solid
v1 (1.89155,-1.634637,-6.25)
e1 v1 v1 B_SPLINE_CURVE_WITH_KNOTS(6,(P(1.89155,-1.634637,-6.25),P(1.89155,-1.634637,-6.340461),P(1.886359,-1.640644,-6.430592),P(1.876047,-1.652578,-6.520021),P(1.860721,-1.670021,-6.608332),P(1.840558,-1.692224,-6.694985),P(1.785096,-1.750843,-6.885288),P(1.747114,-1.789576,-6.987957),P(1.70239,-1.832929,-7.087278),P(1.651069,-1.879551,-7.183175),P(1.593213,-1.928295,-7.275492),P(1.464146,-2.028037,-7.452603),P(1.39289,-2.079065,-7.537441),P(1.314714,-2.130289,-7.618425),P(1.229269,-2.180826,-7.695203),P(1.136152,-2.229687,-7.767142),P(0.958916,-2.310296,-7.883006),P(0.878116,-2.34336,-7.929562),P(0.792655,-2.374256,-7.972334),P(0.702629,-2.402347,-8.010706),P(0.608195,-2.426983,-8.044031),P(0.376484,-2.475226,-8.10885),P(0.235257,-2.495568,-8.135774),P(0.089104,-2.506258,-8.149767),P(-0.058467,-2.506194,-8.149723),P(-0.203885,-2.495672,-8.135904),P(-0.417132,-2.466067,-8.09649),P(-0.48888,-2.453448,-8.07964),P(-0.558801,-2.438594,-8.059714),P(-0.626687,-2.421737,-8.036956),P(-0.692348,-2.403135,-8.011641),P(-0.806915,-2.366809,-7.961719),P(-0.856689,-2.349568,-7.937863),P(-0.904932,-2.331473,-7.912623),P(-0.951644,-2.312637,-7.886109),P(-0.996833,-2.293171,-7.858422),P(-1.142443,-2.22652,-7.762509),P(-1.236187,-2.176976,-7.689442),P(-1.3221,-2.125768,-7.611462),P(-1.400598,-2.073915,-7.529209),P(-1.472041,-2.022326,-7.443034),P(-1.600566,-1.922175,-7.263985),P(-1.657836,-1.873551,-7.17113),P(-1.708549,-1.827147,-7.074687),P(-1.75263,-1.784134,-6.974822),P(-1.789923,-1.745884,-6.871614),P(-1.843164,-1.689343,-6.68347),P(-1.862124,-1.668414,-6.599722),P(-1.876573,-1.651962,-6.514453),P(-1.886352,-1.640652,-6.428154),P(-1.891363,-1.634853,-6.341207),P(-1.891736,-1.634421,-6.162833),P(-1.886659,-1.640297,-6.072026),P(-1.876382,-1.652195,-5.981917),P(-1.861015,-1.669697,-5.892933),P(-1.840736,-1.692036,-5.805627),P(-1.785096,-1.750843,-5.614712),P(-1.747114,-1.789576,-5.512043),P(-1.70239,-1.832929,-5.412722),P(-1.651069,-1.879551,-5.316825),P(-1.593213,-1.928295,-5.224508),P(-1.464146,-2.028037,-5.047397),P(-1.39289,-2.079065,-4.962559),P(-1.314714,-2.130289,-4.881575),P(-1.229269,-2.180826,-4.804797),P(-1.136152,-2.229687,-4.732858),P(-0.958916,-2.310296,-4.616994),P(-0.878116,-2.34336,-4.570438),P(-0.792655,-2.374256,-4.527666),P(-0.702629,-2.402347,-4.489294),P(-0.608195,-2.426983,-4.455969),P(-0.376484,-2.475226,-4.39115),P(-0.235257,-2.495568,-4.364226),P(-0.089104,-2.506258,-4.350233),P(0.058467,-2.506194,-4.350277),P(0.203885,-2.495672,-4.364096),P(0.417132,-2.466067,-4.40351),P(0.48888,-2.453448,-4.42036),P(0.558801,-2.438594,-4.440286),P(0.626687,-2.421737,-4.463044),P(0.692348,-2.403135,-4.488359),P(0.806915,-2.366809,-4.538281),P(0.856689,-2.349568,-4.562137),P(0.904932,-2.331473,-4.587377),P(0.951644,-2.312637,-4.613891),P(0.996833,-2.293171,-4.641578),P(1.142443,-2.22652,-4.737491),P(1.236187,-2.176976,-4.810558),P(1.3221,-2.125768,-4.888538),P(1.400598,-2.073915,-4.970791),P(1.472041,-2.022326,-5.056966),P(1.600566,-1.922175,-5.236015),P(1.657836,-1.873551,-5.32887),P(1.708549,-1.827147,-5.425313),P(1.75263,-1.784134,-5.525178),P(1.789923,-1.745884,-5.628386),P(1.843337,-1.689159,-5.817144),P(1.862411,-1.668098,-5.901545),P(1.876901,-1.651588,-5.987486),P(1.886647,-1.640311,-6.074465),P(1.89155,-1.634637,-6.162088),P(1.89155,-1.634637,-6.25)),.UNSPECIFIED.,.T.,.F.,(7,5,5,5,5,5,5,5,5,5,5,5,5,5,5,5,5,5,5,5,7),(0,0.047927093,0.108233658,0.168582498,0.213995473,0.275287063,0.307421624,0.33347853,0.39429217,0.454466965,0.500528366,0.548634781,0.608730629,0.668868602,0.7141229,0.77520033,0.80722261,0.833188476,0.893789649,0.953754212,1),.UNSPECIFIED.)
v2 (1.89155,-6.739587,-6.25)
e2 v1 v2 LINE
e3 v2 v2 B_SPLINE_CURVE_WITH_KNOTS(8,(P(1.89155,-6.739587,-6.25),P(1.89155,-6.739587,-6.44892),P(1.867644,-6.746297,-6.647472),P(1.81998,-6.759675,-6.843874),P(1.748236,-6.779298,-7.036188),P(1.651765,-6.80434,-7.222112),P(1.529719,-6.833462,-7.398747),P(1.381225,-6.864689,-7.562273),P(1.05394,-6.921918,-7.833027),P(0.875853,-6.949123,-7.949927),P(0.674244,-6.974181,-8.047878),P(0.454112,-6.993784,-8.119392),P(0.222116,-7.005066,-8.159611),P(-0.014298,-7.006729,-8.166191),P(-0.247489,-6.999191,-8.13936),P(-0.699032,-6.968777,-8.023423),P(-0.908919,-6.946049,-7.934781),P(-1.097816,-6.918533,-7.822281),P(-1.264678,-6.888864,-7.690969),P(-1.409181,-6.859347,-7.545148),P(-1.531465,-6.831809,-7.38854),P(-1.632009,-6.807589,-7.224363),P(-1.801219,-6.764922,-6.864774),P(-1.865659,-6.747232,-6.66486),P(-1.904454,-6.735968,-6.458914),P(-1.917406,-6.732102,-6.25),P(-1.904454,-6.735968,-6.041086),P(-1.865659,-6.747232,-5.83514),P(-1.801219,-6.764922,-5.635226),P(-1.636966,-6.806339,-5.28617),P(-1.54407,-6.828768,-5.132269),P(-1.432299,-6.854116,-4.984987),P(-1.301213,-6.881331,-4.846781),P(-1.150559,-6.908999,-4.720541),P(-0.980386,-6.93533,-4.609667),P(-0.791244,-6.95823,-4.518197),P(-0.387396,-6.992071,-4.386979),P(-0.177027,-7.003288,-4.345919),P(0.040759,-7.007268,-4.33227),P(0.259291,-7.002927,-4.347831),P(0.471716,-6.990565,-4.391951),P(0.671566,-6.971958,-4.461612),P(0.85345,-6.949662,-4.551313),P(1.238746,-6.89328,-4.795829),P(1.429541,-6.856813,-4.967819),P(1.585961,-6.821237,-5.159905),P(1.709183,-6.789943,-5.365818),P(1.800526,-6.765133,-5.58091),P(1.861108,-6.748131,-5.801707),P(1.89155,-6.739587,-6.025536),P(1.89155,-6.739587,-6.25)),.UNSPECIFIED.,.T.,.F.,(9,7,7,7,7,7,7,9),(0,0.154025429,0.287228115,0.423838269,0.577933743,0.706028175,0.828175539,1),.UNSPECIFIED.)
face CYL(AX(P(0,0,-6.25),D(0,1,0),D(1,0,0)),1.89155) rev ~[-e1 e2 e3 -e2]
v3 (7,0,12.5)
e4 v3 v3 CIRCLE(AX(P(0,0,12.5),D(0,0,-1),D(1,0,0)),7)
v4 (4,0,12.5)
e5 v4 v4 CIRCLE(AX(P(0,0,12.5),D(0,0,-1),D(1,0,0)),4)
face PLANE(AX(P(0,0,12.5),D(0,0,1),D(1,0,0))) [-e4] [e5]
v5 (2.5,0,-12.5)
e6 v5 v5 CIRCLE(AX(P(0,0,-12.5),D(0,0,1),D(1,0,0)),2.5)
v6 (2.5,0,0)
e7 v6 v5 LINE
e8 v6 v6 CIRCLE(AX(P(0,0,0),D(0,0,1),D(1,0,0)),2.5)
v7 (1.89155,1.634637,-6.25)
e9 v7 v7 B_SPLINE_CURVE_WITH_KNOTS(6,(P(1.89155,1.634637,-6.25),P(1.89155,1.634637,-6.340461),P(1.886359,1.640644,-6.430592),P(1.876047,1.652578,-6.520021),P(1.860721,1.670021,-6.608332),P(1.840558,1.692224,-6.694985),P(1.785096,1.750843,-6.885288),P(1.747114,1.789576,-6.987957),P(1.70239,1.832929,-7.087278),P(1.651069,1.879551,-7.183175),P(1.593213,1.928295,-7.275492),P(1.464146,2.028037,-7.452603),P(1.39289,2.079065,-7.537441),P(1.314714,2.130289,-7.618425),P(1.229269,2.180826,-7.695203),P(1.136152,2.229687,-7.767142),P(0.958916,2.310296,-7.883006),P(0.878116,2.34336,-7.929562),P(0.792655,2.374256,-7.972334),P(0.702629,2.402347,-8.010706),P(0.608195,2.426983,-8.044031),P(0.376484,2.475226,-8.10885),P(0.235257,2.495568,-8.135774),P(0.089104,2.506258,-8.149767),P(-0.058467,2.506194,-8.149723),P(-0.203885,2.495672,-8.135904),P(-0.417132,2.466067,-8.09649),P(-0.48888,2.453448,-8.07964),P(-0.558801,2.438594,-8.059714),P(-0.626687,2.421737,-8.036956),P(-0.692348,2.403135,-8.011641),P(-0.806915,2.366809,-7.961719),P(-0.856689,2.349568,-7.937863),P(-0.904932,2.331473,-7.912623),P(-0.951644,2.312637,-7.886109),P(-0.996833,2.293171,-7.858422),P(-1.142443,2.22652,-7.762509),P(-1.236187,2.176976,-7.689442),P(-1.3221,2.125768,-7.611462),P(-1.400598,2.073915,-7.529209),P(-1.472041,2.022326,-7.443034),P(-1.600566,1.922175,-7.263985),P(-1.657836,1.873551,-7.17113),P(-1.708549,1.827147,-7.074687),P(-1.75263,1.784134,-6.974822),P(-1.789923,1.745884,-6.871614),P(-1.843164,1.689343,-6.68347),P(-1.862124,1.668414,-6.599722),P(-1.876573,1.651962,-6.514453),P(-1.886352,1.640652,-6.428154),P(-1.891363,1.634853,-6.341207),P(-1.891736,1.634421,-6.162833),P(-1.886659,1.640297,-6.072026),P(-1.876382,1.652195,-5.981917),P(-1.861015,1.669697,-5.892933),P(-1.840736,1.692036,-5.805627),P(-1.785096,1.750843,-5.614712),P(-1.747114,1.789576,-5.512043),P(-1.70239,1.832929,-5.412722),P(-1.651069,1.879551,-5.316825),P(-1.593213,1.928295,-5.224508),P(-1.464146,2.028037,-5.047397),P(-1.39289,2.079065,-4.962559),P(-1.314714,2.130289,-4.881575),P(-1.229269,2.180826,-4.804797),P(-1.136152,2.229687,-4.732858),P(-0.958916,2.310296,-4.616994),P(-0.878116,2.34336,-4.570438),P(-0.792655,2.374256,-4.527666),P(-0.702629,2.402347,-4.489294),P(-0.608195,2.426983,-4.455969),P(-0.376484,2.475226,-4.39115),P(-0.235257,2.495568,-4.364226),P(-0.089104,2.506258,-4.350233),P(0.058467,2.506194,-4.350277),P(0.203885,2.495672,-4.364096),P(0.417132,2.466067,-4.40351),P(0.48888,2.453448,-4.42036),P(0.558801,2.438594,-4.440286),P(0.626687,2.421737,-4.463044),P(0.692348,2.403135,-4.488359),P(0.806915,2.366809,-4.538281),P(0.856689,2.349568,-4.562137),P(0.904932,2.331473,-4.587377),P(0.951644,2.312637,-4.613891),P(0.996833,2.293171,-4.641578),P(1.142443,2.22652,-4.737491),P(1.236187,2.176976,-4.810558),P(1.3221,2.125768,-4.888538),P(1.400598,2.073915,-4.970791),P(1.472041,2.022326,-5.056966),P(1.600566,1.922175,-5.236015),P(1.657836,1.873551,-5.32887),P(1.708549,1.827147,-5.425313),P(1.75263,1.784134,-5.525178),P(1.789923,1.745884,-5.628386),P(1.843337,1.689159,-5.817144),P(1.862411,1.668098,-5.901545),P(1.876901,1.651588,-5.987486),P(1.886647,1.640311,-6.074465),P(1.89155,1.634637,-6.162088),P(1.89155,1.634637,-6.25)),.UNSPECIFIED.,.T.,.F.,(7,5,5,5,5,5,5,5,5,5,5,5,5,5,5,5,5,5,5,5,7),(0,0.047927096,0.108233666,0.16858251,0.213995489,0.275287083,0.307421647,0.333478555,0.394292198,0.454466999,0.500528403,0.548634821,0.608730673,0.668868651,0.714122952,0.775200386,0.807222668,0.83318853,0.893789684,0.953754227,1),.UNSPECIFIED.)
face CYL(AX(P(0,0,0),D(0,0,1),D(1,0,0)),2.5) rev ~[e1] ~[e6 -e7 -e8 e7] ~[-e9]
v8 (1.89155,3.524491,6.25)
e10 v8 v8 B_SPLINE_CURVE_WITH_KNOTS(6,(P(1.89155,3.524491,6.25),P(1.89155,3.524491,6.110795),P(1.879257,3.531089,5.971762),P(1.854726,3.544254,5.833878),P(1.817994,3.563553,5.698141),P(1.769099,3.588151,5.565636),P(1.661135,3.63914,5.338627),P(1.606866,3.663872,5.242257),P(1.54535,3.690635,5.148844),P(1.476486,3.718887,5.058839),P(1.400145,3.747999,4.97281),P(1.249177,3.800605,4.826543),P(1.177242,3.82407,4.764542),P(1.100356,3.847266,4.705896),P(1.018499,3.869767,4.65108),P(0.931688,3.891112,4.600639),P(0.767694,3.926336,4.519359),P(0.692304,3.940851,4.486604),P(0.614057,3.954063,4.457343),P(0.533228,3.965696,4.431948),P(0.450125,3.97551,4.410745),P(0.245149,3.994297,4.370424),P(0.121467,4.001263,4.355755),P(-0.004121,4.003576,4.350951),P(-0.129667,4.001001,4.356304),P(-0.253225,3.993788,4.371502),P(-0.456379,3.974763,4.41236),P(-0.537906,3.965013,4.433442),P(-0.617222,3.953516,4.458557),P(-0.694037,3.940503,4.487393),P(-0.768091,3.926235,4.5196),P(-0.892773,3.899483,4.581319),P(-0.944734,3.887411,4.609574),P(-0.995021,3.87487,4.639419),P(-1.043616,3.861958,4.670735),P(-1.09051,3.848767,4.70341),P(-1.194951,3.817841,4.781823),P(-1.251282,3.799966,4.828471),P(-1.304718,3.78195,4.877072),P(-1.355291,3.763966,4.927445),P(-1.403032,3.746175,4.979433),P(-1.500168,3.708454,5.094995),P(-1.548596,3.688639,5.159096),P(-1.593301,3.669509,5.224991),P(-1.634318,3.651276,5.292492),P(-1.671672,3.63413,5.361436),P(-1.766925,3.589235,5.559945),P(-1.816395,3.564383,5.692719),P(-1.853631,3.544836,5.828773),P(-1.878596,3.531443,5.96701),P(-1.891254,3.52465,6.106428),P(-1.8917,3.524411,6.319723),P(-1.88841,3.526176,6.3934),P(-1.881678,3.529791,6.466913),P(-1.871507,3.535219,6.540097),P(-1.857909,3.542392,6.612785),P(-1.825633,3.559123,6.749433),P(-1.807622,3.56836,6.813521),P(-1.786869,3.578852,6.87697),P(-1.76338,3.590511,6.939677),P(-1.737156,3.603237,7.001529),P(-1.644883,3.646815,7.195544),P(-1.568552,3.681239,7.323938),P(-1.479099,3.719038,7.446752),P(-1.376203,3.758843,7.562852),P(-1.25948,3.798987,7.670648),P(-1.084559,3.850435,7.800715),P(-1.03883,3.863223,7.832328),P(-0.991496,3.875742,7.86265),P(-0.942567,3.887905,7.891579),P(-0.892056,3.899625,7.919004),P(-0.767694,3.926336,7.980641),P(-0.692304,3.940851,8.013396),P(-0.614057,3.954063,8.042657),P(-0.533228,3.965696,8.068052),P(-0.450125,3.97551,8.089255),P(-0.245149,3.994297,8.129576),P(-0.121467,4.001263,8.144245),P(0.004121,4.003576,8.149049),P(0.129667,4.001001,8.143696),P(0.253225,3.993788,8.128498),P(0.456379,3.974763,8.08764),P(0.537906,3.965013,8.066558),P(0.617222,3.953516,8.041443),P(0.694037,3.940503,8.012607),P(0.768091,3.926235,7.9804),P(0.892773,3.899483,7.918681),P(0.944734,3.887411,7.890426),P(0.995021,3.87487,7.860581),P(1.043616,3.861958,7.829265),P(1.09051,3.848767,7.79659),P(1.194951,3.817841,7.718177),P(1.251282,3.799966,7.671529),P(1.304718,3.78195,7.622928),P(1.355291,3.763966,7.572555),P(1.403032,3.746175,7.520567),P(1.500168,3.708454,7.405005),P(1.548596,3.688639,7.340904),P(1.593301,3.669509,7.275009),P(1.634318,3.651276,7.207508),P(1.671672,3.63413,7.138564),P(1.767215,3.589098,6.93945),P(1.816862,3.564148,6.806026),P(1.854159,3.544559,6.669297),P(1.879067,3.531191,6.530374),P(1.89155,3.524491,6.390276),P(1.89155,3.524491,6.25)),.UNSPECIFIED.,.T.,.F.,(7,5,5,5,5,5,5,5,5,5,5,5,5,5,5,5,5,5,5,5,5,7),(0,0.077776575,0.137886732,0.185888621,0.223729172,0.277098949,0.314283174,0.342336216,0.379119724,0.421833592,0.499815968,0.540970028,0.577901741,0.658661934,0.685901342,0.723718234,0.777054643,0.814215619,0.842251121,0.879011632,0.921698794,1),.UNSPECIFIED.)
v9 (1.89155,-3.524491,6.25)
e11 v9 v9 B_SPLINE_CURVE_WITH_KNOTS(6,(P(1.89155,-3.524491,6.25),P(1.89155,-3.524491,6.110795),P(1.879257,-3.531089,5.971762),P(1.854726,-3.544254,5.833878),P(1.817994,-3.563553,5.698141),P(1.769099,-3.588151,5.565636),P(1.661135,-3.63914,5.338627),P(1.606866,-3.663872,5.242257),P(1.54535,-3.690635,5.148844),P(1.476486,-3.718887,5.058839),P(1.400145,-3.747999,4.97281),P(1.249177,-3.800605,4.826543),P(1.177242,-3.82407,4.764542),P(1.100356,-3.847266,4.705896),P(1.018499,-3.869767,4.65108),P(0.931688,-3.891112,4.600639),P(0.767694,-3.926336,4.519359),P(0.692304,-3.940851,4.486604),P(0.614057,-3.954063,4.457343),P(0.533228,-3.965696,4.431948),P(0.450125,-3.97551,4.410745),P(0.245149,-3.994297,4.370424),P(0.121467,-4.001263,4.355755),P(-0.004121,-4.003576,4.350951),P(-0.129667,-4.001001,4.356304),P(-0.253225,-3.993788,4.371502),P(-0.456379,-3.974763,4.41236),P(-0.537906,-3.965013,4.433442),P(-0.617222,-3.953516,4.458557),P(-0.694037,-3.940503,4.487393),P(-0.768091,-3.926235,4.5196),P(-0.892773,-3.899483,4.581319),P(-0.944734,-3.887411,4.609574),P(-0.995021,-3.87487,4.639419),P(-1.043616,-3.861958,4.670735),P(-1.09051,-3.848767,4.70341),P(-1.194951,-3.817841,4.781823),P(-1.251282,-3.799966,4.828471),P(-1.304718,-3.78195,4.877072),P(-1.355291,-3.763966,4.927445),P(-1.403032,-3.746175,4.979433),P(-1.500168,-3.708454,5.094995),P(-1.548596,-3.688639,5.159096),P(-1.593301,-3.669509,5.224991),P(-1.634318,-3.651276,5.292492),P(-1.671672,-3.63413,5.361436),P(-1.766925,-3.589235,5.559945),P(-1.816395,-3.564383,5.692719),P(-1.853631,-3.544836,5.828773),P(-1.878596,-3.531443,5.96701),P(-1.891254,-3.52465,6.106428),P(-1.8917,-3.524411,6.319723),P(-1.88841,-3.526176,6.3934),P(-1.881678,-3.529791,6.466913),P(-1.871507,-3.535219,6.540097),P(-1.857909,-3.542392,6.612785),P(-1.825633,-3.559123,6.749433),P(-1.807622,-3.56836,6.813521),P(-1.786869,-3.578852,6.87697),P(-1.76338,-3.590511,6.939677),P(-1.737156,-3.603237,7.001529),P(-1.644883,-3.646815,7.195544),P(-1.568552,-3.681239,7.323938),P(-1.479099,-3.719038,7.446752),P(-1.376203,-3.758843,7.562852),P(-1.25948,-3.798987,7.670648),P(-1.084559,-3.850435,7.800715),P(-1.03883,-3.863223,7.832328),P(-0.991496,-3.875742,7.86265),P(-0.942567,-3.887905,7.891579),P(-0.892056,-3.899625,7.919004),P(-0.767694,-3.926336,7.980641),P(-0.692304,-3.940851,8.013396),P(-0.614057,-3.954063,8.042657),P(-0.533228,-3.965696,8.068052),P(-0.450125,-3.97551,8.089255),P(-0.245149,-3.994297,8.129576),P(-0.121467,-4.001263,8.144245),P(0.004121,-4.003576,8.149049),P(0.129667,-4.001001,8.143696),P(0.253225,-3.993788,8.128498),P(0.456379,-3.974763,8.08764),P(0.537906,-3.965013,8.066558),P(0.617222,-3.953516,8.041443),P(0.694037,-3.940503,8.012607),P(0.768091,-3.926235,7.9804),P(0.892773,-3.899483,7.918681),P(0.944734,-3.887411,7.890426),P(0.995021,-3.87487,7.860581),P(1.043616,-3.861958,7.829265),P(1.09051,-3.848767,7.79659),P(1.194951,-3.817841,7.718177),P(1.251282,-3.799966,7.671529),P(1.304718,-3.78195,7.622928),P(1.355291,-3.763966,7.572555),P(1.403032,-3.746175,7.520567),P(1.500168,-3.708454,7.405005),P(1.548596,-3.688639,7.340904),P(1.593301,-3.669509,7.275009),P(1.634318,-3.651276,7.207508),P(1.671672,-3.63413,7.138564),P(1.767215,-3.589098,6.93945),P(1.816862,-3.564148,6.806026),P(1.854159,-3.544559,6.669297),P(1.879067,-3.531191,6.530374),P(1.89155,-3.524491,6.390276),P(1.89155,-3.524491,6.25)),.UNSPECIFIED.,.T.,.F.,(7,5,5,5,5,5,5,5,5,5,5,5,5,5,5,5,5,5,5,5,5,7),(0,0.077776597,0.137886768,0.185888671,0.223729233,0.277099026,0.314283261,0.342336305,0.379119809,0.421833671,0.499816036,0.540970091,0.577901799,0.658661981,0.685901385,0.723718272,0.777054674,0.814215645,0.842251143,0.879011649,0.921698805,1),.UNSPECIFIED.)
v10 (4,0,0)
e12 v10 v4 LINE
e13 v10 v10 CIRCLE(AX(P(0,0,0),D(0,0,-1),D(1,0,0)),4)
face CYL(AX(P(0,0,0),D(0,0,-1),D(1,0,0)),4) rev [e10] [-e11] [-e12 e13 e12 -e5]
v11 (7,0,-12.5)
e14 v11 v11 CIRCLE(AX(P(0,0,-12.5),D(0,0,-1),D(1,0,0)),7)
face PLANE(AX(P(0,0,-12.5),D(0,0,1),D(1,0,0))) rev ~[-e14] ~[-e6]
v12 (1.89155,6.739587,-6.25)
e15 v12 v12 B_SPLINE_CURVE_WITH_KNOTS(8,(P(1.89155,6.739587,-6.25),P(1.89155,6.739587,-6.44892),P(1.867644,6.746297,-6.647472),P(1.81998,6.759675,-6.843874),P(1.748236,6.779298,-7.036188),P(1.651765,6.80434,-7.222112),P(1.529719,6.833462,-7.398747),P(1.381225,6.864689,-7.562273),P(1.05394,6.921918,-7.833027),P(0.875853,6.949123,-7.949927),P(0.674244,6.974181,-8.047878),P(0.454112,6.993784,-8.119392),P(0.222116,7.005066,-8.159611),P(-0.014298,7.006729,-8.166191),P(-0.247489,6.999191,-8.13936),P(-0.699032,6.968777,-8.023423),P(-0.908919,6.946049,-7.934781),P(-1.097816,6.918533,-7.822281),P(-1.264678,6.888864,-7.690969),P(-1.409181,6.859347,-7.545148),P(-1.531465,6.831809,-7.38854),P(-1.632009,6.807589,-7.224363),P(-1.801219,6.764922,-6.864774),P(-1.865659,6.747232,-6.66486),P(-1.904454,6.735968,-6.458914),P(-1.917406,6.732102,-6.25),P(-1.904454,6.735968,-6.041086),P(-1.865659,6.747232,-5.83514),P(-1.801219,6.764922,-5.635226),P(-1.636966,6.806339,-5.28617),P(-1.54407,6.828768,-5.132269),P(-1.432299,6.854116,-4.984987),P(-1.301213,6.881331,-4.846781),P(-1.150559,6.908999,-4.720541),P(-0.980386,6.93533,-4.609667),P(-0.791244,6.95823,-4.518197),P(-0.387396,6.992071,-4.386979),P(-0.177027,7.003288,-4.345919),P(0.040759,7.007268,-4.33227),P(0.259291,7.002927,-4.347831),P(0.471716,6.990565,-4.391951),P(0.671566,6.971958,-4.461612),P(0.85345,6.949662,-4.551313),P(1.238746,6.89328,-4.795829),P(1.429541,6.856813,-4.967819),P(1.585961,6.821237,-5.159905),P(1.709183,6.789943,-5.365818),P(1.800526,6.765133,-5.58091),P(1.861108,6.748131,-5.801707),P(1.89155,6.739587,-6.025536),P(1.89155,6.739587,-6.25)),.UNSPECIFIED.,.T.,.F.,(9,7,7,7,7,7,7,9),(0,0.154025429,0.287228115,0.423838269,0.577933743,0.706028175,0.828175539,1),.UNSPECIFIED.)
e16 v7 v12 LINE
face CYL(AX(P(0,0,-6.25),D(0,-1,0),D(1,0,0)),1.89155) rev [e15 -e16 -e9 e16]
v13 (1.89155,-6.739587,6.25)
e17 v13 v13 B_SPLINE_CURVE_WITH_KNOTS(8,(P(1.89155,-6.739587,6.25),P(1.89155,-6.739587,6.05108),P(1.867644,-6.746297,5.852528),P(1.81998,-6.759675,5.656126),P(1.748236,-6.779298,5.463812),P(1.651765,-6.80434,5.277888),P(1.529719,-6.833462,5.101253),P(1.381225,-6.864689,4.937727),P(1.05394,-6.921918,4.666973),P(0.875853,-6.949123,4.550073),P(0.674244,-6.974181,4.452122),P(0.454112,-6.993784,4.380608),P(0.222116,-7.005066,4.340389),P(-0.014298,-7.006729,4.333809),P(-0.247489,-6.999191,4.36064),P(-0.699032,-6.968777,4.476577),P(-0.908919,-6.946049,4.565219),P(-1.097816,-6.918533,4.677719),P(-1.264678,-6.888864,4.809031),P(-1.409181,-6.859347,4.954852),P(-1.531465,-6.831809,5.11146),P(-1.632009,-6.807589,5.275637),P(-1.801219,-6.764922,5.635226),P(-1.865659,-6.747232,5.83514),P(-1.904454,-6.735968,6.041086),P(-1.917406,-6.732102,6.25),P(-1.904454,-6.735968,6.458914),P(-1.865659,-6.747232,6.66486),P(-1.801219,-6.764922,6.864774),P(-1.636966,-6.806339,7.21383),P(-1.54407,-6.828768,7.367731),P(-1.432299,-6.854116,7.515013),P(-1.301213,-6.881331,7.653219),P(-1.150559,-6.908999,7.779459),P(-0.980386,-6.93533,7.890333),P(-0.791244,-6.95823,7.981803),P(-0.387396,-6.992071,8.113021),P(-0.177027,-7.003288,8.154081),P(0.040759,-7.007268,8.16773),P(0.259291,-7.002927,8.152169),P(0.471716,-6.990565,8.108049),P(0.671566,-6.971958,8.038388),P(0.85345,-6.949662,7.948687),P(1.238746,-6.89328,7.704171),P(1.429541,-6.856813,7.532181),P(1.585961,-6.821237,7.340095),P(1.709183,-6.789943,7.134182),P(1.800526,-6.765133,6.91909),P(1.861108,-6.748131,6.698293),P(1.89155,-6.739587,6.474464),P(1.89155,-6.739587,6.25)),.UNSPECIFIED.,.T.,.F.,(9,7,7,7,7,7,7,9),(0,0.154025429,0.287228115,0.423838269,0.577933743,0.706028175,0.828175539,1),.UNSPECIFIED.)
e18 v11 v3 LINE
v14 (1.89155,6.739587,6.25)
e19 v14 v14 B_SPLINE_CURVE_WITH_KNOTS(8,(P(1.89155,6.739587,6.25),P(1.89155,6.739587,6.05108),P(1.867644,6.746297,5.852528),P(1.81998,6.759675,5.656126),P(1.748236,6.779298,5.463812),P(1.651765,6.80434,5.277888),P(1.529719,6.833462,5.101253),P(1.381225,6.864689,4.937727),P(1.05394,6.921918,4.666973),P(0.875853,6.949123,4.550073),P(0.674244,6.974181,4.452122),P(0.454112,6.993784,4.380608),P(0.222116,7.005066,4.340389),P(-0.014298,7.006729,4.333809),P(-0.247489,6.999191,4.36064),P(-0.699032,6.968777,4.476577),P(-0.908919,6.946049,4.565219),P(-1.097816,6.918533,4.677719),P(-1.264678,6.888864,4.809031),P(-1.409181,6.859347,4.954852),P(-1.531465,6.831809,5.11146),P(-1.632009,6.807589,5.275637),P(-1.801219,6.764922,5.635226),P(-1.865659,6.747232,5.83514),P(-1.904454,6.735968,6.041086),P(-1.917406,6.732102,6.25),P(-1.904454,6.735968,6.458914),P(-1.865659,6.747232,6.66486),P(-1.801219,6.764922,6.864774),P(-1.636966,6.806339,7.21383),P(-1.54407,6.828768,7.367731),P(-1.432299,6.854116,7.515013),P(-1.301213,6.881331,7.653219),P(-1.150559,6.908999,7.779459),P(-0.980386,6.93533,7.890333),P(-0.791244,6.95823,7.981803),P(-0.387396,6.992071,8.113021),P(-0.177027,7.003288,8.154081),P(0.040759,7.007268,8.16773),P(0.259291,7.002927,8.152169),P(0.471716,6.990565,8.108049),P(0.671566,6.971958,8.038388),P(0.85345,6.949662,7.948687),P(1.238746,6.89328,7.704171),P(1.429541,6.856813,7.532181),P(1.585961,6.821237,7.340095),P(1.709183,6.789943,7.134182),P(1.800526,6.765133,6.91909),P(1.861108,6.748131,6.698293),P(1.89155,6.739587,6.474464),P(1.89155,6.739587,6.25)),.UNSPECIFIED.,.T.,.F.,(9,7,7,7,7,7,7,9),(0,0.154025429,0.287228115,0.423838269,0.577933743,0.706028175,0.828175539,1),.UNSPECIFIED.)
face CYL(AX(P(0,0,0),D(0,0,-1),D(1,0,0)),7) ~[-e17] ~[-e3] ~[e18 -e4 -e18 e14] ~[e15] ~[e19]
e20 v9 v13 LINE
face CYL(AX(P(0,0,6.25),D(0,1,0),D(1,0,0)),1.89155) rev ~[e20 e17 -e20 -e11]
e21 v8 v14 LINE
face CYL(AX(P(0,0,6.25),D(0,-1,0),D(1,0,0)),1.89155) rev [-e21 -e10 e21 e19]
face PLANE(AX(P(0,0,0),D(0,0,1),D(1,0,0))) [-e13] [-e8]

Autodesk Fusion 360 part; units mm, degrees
sketch "Sketch1" plane through (0, 0, 0) normal (0, 0, 1) x (1, 0, 0)
  circle A0 centre (0, 0) radius 2.5
  circle A1 centre (0, 0) radius 4
  circle A2 centre (0, 0) radius 7
  dimension "d1" = 5
  dimension "d2" = 8
  dimension "d3" = 14
extrude "Extrude1" add sketch "Sketch1" along normal blind 12.5 contours A2
extrude "Extrude2" add sketch "Sketch1" against normal blind 12.5 contours A1 | A2
sketch "Sketch2" plane through (0, 0, 0) normal (0, 1, 0) x (1, 0, 0)
  line L0 (7, 12.5) -> (-7, 12.5)
  line L1 (-7, -12.5) -> (7, -12.5)
  line L2 (0, 12.5) -> (0, 6.25)
  circle A0 centre (0, 6.25) radius 2.25
  line L3 (1.75, 0) -> (22.5, 0)
  circle A1 centre (0, -6.25) radius 2.25
  dimension "d8" = 6.25
  dimension "d9" = 4.5
extrude "Extrude3" cut sketch "Sketch2" along normal through all and the other way through all
thread "Thread1" "ISO Metric profile 4.5 M4.5x0.75 6H" major diameter 4.6131 minor diameter 3.7831 pitch 0.75 angle 60 resizes the face on face at (1.4853, 5.7997, 4.5599) on face at (0.8019, 5.4291, -8.3523) on face at (0.8297, -5.4199, -8.3414) on face at (1.4853, -5.7997, 4.5599)
